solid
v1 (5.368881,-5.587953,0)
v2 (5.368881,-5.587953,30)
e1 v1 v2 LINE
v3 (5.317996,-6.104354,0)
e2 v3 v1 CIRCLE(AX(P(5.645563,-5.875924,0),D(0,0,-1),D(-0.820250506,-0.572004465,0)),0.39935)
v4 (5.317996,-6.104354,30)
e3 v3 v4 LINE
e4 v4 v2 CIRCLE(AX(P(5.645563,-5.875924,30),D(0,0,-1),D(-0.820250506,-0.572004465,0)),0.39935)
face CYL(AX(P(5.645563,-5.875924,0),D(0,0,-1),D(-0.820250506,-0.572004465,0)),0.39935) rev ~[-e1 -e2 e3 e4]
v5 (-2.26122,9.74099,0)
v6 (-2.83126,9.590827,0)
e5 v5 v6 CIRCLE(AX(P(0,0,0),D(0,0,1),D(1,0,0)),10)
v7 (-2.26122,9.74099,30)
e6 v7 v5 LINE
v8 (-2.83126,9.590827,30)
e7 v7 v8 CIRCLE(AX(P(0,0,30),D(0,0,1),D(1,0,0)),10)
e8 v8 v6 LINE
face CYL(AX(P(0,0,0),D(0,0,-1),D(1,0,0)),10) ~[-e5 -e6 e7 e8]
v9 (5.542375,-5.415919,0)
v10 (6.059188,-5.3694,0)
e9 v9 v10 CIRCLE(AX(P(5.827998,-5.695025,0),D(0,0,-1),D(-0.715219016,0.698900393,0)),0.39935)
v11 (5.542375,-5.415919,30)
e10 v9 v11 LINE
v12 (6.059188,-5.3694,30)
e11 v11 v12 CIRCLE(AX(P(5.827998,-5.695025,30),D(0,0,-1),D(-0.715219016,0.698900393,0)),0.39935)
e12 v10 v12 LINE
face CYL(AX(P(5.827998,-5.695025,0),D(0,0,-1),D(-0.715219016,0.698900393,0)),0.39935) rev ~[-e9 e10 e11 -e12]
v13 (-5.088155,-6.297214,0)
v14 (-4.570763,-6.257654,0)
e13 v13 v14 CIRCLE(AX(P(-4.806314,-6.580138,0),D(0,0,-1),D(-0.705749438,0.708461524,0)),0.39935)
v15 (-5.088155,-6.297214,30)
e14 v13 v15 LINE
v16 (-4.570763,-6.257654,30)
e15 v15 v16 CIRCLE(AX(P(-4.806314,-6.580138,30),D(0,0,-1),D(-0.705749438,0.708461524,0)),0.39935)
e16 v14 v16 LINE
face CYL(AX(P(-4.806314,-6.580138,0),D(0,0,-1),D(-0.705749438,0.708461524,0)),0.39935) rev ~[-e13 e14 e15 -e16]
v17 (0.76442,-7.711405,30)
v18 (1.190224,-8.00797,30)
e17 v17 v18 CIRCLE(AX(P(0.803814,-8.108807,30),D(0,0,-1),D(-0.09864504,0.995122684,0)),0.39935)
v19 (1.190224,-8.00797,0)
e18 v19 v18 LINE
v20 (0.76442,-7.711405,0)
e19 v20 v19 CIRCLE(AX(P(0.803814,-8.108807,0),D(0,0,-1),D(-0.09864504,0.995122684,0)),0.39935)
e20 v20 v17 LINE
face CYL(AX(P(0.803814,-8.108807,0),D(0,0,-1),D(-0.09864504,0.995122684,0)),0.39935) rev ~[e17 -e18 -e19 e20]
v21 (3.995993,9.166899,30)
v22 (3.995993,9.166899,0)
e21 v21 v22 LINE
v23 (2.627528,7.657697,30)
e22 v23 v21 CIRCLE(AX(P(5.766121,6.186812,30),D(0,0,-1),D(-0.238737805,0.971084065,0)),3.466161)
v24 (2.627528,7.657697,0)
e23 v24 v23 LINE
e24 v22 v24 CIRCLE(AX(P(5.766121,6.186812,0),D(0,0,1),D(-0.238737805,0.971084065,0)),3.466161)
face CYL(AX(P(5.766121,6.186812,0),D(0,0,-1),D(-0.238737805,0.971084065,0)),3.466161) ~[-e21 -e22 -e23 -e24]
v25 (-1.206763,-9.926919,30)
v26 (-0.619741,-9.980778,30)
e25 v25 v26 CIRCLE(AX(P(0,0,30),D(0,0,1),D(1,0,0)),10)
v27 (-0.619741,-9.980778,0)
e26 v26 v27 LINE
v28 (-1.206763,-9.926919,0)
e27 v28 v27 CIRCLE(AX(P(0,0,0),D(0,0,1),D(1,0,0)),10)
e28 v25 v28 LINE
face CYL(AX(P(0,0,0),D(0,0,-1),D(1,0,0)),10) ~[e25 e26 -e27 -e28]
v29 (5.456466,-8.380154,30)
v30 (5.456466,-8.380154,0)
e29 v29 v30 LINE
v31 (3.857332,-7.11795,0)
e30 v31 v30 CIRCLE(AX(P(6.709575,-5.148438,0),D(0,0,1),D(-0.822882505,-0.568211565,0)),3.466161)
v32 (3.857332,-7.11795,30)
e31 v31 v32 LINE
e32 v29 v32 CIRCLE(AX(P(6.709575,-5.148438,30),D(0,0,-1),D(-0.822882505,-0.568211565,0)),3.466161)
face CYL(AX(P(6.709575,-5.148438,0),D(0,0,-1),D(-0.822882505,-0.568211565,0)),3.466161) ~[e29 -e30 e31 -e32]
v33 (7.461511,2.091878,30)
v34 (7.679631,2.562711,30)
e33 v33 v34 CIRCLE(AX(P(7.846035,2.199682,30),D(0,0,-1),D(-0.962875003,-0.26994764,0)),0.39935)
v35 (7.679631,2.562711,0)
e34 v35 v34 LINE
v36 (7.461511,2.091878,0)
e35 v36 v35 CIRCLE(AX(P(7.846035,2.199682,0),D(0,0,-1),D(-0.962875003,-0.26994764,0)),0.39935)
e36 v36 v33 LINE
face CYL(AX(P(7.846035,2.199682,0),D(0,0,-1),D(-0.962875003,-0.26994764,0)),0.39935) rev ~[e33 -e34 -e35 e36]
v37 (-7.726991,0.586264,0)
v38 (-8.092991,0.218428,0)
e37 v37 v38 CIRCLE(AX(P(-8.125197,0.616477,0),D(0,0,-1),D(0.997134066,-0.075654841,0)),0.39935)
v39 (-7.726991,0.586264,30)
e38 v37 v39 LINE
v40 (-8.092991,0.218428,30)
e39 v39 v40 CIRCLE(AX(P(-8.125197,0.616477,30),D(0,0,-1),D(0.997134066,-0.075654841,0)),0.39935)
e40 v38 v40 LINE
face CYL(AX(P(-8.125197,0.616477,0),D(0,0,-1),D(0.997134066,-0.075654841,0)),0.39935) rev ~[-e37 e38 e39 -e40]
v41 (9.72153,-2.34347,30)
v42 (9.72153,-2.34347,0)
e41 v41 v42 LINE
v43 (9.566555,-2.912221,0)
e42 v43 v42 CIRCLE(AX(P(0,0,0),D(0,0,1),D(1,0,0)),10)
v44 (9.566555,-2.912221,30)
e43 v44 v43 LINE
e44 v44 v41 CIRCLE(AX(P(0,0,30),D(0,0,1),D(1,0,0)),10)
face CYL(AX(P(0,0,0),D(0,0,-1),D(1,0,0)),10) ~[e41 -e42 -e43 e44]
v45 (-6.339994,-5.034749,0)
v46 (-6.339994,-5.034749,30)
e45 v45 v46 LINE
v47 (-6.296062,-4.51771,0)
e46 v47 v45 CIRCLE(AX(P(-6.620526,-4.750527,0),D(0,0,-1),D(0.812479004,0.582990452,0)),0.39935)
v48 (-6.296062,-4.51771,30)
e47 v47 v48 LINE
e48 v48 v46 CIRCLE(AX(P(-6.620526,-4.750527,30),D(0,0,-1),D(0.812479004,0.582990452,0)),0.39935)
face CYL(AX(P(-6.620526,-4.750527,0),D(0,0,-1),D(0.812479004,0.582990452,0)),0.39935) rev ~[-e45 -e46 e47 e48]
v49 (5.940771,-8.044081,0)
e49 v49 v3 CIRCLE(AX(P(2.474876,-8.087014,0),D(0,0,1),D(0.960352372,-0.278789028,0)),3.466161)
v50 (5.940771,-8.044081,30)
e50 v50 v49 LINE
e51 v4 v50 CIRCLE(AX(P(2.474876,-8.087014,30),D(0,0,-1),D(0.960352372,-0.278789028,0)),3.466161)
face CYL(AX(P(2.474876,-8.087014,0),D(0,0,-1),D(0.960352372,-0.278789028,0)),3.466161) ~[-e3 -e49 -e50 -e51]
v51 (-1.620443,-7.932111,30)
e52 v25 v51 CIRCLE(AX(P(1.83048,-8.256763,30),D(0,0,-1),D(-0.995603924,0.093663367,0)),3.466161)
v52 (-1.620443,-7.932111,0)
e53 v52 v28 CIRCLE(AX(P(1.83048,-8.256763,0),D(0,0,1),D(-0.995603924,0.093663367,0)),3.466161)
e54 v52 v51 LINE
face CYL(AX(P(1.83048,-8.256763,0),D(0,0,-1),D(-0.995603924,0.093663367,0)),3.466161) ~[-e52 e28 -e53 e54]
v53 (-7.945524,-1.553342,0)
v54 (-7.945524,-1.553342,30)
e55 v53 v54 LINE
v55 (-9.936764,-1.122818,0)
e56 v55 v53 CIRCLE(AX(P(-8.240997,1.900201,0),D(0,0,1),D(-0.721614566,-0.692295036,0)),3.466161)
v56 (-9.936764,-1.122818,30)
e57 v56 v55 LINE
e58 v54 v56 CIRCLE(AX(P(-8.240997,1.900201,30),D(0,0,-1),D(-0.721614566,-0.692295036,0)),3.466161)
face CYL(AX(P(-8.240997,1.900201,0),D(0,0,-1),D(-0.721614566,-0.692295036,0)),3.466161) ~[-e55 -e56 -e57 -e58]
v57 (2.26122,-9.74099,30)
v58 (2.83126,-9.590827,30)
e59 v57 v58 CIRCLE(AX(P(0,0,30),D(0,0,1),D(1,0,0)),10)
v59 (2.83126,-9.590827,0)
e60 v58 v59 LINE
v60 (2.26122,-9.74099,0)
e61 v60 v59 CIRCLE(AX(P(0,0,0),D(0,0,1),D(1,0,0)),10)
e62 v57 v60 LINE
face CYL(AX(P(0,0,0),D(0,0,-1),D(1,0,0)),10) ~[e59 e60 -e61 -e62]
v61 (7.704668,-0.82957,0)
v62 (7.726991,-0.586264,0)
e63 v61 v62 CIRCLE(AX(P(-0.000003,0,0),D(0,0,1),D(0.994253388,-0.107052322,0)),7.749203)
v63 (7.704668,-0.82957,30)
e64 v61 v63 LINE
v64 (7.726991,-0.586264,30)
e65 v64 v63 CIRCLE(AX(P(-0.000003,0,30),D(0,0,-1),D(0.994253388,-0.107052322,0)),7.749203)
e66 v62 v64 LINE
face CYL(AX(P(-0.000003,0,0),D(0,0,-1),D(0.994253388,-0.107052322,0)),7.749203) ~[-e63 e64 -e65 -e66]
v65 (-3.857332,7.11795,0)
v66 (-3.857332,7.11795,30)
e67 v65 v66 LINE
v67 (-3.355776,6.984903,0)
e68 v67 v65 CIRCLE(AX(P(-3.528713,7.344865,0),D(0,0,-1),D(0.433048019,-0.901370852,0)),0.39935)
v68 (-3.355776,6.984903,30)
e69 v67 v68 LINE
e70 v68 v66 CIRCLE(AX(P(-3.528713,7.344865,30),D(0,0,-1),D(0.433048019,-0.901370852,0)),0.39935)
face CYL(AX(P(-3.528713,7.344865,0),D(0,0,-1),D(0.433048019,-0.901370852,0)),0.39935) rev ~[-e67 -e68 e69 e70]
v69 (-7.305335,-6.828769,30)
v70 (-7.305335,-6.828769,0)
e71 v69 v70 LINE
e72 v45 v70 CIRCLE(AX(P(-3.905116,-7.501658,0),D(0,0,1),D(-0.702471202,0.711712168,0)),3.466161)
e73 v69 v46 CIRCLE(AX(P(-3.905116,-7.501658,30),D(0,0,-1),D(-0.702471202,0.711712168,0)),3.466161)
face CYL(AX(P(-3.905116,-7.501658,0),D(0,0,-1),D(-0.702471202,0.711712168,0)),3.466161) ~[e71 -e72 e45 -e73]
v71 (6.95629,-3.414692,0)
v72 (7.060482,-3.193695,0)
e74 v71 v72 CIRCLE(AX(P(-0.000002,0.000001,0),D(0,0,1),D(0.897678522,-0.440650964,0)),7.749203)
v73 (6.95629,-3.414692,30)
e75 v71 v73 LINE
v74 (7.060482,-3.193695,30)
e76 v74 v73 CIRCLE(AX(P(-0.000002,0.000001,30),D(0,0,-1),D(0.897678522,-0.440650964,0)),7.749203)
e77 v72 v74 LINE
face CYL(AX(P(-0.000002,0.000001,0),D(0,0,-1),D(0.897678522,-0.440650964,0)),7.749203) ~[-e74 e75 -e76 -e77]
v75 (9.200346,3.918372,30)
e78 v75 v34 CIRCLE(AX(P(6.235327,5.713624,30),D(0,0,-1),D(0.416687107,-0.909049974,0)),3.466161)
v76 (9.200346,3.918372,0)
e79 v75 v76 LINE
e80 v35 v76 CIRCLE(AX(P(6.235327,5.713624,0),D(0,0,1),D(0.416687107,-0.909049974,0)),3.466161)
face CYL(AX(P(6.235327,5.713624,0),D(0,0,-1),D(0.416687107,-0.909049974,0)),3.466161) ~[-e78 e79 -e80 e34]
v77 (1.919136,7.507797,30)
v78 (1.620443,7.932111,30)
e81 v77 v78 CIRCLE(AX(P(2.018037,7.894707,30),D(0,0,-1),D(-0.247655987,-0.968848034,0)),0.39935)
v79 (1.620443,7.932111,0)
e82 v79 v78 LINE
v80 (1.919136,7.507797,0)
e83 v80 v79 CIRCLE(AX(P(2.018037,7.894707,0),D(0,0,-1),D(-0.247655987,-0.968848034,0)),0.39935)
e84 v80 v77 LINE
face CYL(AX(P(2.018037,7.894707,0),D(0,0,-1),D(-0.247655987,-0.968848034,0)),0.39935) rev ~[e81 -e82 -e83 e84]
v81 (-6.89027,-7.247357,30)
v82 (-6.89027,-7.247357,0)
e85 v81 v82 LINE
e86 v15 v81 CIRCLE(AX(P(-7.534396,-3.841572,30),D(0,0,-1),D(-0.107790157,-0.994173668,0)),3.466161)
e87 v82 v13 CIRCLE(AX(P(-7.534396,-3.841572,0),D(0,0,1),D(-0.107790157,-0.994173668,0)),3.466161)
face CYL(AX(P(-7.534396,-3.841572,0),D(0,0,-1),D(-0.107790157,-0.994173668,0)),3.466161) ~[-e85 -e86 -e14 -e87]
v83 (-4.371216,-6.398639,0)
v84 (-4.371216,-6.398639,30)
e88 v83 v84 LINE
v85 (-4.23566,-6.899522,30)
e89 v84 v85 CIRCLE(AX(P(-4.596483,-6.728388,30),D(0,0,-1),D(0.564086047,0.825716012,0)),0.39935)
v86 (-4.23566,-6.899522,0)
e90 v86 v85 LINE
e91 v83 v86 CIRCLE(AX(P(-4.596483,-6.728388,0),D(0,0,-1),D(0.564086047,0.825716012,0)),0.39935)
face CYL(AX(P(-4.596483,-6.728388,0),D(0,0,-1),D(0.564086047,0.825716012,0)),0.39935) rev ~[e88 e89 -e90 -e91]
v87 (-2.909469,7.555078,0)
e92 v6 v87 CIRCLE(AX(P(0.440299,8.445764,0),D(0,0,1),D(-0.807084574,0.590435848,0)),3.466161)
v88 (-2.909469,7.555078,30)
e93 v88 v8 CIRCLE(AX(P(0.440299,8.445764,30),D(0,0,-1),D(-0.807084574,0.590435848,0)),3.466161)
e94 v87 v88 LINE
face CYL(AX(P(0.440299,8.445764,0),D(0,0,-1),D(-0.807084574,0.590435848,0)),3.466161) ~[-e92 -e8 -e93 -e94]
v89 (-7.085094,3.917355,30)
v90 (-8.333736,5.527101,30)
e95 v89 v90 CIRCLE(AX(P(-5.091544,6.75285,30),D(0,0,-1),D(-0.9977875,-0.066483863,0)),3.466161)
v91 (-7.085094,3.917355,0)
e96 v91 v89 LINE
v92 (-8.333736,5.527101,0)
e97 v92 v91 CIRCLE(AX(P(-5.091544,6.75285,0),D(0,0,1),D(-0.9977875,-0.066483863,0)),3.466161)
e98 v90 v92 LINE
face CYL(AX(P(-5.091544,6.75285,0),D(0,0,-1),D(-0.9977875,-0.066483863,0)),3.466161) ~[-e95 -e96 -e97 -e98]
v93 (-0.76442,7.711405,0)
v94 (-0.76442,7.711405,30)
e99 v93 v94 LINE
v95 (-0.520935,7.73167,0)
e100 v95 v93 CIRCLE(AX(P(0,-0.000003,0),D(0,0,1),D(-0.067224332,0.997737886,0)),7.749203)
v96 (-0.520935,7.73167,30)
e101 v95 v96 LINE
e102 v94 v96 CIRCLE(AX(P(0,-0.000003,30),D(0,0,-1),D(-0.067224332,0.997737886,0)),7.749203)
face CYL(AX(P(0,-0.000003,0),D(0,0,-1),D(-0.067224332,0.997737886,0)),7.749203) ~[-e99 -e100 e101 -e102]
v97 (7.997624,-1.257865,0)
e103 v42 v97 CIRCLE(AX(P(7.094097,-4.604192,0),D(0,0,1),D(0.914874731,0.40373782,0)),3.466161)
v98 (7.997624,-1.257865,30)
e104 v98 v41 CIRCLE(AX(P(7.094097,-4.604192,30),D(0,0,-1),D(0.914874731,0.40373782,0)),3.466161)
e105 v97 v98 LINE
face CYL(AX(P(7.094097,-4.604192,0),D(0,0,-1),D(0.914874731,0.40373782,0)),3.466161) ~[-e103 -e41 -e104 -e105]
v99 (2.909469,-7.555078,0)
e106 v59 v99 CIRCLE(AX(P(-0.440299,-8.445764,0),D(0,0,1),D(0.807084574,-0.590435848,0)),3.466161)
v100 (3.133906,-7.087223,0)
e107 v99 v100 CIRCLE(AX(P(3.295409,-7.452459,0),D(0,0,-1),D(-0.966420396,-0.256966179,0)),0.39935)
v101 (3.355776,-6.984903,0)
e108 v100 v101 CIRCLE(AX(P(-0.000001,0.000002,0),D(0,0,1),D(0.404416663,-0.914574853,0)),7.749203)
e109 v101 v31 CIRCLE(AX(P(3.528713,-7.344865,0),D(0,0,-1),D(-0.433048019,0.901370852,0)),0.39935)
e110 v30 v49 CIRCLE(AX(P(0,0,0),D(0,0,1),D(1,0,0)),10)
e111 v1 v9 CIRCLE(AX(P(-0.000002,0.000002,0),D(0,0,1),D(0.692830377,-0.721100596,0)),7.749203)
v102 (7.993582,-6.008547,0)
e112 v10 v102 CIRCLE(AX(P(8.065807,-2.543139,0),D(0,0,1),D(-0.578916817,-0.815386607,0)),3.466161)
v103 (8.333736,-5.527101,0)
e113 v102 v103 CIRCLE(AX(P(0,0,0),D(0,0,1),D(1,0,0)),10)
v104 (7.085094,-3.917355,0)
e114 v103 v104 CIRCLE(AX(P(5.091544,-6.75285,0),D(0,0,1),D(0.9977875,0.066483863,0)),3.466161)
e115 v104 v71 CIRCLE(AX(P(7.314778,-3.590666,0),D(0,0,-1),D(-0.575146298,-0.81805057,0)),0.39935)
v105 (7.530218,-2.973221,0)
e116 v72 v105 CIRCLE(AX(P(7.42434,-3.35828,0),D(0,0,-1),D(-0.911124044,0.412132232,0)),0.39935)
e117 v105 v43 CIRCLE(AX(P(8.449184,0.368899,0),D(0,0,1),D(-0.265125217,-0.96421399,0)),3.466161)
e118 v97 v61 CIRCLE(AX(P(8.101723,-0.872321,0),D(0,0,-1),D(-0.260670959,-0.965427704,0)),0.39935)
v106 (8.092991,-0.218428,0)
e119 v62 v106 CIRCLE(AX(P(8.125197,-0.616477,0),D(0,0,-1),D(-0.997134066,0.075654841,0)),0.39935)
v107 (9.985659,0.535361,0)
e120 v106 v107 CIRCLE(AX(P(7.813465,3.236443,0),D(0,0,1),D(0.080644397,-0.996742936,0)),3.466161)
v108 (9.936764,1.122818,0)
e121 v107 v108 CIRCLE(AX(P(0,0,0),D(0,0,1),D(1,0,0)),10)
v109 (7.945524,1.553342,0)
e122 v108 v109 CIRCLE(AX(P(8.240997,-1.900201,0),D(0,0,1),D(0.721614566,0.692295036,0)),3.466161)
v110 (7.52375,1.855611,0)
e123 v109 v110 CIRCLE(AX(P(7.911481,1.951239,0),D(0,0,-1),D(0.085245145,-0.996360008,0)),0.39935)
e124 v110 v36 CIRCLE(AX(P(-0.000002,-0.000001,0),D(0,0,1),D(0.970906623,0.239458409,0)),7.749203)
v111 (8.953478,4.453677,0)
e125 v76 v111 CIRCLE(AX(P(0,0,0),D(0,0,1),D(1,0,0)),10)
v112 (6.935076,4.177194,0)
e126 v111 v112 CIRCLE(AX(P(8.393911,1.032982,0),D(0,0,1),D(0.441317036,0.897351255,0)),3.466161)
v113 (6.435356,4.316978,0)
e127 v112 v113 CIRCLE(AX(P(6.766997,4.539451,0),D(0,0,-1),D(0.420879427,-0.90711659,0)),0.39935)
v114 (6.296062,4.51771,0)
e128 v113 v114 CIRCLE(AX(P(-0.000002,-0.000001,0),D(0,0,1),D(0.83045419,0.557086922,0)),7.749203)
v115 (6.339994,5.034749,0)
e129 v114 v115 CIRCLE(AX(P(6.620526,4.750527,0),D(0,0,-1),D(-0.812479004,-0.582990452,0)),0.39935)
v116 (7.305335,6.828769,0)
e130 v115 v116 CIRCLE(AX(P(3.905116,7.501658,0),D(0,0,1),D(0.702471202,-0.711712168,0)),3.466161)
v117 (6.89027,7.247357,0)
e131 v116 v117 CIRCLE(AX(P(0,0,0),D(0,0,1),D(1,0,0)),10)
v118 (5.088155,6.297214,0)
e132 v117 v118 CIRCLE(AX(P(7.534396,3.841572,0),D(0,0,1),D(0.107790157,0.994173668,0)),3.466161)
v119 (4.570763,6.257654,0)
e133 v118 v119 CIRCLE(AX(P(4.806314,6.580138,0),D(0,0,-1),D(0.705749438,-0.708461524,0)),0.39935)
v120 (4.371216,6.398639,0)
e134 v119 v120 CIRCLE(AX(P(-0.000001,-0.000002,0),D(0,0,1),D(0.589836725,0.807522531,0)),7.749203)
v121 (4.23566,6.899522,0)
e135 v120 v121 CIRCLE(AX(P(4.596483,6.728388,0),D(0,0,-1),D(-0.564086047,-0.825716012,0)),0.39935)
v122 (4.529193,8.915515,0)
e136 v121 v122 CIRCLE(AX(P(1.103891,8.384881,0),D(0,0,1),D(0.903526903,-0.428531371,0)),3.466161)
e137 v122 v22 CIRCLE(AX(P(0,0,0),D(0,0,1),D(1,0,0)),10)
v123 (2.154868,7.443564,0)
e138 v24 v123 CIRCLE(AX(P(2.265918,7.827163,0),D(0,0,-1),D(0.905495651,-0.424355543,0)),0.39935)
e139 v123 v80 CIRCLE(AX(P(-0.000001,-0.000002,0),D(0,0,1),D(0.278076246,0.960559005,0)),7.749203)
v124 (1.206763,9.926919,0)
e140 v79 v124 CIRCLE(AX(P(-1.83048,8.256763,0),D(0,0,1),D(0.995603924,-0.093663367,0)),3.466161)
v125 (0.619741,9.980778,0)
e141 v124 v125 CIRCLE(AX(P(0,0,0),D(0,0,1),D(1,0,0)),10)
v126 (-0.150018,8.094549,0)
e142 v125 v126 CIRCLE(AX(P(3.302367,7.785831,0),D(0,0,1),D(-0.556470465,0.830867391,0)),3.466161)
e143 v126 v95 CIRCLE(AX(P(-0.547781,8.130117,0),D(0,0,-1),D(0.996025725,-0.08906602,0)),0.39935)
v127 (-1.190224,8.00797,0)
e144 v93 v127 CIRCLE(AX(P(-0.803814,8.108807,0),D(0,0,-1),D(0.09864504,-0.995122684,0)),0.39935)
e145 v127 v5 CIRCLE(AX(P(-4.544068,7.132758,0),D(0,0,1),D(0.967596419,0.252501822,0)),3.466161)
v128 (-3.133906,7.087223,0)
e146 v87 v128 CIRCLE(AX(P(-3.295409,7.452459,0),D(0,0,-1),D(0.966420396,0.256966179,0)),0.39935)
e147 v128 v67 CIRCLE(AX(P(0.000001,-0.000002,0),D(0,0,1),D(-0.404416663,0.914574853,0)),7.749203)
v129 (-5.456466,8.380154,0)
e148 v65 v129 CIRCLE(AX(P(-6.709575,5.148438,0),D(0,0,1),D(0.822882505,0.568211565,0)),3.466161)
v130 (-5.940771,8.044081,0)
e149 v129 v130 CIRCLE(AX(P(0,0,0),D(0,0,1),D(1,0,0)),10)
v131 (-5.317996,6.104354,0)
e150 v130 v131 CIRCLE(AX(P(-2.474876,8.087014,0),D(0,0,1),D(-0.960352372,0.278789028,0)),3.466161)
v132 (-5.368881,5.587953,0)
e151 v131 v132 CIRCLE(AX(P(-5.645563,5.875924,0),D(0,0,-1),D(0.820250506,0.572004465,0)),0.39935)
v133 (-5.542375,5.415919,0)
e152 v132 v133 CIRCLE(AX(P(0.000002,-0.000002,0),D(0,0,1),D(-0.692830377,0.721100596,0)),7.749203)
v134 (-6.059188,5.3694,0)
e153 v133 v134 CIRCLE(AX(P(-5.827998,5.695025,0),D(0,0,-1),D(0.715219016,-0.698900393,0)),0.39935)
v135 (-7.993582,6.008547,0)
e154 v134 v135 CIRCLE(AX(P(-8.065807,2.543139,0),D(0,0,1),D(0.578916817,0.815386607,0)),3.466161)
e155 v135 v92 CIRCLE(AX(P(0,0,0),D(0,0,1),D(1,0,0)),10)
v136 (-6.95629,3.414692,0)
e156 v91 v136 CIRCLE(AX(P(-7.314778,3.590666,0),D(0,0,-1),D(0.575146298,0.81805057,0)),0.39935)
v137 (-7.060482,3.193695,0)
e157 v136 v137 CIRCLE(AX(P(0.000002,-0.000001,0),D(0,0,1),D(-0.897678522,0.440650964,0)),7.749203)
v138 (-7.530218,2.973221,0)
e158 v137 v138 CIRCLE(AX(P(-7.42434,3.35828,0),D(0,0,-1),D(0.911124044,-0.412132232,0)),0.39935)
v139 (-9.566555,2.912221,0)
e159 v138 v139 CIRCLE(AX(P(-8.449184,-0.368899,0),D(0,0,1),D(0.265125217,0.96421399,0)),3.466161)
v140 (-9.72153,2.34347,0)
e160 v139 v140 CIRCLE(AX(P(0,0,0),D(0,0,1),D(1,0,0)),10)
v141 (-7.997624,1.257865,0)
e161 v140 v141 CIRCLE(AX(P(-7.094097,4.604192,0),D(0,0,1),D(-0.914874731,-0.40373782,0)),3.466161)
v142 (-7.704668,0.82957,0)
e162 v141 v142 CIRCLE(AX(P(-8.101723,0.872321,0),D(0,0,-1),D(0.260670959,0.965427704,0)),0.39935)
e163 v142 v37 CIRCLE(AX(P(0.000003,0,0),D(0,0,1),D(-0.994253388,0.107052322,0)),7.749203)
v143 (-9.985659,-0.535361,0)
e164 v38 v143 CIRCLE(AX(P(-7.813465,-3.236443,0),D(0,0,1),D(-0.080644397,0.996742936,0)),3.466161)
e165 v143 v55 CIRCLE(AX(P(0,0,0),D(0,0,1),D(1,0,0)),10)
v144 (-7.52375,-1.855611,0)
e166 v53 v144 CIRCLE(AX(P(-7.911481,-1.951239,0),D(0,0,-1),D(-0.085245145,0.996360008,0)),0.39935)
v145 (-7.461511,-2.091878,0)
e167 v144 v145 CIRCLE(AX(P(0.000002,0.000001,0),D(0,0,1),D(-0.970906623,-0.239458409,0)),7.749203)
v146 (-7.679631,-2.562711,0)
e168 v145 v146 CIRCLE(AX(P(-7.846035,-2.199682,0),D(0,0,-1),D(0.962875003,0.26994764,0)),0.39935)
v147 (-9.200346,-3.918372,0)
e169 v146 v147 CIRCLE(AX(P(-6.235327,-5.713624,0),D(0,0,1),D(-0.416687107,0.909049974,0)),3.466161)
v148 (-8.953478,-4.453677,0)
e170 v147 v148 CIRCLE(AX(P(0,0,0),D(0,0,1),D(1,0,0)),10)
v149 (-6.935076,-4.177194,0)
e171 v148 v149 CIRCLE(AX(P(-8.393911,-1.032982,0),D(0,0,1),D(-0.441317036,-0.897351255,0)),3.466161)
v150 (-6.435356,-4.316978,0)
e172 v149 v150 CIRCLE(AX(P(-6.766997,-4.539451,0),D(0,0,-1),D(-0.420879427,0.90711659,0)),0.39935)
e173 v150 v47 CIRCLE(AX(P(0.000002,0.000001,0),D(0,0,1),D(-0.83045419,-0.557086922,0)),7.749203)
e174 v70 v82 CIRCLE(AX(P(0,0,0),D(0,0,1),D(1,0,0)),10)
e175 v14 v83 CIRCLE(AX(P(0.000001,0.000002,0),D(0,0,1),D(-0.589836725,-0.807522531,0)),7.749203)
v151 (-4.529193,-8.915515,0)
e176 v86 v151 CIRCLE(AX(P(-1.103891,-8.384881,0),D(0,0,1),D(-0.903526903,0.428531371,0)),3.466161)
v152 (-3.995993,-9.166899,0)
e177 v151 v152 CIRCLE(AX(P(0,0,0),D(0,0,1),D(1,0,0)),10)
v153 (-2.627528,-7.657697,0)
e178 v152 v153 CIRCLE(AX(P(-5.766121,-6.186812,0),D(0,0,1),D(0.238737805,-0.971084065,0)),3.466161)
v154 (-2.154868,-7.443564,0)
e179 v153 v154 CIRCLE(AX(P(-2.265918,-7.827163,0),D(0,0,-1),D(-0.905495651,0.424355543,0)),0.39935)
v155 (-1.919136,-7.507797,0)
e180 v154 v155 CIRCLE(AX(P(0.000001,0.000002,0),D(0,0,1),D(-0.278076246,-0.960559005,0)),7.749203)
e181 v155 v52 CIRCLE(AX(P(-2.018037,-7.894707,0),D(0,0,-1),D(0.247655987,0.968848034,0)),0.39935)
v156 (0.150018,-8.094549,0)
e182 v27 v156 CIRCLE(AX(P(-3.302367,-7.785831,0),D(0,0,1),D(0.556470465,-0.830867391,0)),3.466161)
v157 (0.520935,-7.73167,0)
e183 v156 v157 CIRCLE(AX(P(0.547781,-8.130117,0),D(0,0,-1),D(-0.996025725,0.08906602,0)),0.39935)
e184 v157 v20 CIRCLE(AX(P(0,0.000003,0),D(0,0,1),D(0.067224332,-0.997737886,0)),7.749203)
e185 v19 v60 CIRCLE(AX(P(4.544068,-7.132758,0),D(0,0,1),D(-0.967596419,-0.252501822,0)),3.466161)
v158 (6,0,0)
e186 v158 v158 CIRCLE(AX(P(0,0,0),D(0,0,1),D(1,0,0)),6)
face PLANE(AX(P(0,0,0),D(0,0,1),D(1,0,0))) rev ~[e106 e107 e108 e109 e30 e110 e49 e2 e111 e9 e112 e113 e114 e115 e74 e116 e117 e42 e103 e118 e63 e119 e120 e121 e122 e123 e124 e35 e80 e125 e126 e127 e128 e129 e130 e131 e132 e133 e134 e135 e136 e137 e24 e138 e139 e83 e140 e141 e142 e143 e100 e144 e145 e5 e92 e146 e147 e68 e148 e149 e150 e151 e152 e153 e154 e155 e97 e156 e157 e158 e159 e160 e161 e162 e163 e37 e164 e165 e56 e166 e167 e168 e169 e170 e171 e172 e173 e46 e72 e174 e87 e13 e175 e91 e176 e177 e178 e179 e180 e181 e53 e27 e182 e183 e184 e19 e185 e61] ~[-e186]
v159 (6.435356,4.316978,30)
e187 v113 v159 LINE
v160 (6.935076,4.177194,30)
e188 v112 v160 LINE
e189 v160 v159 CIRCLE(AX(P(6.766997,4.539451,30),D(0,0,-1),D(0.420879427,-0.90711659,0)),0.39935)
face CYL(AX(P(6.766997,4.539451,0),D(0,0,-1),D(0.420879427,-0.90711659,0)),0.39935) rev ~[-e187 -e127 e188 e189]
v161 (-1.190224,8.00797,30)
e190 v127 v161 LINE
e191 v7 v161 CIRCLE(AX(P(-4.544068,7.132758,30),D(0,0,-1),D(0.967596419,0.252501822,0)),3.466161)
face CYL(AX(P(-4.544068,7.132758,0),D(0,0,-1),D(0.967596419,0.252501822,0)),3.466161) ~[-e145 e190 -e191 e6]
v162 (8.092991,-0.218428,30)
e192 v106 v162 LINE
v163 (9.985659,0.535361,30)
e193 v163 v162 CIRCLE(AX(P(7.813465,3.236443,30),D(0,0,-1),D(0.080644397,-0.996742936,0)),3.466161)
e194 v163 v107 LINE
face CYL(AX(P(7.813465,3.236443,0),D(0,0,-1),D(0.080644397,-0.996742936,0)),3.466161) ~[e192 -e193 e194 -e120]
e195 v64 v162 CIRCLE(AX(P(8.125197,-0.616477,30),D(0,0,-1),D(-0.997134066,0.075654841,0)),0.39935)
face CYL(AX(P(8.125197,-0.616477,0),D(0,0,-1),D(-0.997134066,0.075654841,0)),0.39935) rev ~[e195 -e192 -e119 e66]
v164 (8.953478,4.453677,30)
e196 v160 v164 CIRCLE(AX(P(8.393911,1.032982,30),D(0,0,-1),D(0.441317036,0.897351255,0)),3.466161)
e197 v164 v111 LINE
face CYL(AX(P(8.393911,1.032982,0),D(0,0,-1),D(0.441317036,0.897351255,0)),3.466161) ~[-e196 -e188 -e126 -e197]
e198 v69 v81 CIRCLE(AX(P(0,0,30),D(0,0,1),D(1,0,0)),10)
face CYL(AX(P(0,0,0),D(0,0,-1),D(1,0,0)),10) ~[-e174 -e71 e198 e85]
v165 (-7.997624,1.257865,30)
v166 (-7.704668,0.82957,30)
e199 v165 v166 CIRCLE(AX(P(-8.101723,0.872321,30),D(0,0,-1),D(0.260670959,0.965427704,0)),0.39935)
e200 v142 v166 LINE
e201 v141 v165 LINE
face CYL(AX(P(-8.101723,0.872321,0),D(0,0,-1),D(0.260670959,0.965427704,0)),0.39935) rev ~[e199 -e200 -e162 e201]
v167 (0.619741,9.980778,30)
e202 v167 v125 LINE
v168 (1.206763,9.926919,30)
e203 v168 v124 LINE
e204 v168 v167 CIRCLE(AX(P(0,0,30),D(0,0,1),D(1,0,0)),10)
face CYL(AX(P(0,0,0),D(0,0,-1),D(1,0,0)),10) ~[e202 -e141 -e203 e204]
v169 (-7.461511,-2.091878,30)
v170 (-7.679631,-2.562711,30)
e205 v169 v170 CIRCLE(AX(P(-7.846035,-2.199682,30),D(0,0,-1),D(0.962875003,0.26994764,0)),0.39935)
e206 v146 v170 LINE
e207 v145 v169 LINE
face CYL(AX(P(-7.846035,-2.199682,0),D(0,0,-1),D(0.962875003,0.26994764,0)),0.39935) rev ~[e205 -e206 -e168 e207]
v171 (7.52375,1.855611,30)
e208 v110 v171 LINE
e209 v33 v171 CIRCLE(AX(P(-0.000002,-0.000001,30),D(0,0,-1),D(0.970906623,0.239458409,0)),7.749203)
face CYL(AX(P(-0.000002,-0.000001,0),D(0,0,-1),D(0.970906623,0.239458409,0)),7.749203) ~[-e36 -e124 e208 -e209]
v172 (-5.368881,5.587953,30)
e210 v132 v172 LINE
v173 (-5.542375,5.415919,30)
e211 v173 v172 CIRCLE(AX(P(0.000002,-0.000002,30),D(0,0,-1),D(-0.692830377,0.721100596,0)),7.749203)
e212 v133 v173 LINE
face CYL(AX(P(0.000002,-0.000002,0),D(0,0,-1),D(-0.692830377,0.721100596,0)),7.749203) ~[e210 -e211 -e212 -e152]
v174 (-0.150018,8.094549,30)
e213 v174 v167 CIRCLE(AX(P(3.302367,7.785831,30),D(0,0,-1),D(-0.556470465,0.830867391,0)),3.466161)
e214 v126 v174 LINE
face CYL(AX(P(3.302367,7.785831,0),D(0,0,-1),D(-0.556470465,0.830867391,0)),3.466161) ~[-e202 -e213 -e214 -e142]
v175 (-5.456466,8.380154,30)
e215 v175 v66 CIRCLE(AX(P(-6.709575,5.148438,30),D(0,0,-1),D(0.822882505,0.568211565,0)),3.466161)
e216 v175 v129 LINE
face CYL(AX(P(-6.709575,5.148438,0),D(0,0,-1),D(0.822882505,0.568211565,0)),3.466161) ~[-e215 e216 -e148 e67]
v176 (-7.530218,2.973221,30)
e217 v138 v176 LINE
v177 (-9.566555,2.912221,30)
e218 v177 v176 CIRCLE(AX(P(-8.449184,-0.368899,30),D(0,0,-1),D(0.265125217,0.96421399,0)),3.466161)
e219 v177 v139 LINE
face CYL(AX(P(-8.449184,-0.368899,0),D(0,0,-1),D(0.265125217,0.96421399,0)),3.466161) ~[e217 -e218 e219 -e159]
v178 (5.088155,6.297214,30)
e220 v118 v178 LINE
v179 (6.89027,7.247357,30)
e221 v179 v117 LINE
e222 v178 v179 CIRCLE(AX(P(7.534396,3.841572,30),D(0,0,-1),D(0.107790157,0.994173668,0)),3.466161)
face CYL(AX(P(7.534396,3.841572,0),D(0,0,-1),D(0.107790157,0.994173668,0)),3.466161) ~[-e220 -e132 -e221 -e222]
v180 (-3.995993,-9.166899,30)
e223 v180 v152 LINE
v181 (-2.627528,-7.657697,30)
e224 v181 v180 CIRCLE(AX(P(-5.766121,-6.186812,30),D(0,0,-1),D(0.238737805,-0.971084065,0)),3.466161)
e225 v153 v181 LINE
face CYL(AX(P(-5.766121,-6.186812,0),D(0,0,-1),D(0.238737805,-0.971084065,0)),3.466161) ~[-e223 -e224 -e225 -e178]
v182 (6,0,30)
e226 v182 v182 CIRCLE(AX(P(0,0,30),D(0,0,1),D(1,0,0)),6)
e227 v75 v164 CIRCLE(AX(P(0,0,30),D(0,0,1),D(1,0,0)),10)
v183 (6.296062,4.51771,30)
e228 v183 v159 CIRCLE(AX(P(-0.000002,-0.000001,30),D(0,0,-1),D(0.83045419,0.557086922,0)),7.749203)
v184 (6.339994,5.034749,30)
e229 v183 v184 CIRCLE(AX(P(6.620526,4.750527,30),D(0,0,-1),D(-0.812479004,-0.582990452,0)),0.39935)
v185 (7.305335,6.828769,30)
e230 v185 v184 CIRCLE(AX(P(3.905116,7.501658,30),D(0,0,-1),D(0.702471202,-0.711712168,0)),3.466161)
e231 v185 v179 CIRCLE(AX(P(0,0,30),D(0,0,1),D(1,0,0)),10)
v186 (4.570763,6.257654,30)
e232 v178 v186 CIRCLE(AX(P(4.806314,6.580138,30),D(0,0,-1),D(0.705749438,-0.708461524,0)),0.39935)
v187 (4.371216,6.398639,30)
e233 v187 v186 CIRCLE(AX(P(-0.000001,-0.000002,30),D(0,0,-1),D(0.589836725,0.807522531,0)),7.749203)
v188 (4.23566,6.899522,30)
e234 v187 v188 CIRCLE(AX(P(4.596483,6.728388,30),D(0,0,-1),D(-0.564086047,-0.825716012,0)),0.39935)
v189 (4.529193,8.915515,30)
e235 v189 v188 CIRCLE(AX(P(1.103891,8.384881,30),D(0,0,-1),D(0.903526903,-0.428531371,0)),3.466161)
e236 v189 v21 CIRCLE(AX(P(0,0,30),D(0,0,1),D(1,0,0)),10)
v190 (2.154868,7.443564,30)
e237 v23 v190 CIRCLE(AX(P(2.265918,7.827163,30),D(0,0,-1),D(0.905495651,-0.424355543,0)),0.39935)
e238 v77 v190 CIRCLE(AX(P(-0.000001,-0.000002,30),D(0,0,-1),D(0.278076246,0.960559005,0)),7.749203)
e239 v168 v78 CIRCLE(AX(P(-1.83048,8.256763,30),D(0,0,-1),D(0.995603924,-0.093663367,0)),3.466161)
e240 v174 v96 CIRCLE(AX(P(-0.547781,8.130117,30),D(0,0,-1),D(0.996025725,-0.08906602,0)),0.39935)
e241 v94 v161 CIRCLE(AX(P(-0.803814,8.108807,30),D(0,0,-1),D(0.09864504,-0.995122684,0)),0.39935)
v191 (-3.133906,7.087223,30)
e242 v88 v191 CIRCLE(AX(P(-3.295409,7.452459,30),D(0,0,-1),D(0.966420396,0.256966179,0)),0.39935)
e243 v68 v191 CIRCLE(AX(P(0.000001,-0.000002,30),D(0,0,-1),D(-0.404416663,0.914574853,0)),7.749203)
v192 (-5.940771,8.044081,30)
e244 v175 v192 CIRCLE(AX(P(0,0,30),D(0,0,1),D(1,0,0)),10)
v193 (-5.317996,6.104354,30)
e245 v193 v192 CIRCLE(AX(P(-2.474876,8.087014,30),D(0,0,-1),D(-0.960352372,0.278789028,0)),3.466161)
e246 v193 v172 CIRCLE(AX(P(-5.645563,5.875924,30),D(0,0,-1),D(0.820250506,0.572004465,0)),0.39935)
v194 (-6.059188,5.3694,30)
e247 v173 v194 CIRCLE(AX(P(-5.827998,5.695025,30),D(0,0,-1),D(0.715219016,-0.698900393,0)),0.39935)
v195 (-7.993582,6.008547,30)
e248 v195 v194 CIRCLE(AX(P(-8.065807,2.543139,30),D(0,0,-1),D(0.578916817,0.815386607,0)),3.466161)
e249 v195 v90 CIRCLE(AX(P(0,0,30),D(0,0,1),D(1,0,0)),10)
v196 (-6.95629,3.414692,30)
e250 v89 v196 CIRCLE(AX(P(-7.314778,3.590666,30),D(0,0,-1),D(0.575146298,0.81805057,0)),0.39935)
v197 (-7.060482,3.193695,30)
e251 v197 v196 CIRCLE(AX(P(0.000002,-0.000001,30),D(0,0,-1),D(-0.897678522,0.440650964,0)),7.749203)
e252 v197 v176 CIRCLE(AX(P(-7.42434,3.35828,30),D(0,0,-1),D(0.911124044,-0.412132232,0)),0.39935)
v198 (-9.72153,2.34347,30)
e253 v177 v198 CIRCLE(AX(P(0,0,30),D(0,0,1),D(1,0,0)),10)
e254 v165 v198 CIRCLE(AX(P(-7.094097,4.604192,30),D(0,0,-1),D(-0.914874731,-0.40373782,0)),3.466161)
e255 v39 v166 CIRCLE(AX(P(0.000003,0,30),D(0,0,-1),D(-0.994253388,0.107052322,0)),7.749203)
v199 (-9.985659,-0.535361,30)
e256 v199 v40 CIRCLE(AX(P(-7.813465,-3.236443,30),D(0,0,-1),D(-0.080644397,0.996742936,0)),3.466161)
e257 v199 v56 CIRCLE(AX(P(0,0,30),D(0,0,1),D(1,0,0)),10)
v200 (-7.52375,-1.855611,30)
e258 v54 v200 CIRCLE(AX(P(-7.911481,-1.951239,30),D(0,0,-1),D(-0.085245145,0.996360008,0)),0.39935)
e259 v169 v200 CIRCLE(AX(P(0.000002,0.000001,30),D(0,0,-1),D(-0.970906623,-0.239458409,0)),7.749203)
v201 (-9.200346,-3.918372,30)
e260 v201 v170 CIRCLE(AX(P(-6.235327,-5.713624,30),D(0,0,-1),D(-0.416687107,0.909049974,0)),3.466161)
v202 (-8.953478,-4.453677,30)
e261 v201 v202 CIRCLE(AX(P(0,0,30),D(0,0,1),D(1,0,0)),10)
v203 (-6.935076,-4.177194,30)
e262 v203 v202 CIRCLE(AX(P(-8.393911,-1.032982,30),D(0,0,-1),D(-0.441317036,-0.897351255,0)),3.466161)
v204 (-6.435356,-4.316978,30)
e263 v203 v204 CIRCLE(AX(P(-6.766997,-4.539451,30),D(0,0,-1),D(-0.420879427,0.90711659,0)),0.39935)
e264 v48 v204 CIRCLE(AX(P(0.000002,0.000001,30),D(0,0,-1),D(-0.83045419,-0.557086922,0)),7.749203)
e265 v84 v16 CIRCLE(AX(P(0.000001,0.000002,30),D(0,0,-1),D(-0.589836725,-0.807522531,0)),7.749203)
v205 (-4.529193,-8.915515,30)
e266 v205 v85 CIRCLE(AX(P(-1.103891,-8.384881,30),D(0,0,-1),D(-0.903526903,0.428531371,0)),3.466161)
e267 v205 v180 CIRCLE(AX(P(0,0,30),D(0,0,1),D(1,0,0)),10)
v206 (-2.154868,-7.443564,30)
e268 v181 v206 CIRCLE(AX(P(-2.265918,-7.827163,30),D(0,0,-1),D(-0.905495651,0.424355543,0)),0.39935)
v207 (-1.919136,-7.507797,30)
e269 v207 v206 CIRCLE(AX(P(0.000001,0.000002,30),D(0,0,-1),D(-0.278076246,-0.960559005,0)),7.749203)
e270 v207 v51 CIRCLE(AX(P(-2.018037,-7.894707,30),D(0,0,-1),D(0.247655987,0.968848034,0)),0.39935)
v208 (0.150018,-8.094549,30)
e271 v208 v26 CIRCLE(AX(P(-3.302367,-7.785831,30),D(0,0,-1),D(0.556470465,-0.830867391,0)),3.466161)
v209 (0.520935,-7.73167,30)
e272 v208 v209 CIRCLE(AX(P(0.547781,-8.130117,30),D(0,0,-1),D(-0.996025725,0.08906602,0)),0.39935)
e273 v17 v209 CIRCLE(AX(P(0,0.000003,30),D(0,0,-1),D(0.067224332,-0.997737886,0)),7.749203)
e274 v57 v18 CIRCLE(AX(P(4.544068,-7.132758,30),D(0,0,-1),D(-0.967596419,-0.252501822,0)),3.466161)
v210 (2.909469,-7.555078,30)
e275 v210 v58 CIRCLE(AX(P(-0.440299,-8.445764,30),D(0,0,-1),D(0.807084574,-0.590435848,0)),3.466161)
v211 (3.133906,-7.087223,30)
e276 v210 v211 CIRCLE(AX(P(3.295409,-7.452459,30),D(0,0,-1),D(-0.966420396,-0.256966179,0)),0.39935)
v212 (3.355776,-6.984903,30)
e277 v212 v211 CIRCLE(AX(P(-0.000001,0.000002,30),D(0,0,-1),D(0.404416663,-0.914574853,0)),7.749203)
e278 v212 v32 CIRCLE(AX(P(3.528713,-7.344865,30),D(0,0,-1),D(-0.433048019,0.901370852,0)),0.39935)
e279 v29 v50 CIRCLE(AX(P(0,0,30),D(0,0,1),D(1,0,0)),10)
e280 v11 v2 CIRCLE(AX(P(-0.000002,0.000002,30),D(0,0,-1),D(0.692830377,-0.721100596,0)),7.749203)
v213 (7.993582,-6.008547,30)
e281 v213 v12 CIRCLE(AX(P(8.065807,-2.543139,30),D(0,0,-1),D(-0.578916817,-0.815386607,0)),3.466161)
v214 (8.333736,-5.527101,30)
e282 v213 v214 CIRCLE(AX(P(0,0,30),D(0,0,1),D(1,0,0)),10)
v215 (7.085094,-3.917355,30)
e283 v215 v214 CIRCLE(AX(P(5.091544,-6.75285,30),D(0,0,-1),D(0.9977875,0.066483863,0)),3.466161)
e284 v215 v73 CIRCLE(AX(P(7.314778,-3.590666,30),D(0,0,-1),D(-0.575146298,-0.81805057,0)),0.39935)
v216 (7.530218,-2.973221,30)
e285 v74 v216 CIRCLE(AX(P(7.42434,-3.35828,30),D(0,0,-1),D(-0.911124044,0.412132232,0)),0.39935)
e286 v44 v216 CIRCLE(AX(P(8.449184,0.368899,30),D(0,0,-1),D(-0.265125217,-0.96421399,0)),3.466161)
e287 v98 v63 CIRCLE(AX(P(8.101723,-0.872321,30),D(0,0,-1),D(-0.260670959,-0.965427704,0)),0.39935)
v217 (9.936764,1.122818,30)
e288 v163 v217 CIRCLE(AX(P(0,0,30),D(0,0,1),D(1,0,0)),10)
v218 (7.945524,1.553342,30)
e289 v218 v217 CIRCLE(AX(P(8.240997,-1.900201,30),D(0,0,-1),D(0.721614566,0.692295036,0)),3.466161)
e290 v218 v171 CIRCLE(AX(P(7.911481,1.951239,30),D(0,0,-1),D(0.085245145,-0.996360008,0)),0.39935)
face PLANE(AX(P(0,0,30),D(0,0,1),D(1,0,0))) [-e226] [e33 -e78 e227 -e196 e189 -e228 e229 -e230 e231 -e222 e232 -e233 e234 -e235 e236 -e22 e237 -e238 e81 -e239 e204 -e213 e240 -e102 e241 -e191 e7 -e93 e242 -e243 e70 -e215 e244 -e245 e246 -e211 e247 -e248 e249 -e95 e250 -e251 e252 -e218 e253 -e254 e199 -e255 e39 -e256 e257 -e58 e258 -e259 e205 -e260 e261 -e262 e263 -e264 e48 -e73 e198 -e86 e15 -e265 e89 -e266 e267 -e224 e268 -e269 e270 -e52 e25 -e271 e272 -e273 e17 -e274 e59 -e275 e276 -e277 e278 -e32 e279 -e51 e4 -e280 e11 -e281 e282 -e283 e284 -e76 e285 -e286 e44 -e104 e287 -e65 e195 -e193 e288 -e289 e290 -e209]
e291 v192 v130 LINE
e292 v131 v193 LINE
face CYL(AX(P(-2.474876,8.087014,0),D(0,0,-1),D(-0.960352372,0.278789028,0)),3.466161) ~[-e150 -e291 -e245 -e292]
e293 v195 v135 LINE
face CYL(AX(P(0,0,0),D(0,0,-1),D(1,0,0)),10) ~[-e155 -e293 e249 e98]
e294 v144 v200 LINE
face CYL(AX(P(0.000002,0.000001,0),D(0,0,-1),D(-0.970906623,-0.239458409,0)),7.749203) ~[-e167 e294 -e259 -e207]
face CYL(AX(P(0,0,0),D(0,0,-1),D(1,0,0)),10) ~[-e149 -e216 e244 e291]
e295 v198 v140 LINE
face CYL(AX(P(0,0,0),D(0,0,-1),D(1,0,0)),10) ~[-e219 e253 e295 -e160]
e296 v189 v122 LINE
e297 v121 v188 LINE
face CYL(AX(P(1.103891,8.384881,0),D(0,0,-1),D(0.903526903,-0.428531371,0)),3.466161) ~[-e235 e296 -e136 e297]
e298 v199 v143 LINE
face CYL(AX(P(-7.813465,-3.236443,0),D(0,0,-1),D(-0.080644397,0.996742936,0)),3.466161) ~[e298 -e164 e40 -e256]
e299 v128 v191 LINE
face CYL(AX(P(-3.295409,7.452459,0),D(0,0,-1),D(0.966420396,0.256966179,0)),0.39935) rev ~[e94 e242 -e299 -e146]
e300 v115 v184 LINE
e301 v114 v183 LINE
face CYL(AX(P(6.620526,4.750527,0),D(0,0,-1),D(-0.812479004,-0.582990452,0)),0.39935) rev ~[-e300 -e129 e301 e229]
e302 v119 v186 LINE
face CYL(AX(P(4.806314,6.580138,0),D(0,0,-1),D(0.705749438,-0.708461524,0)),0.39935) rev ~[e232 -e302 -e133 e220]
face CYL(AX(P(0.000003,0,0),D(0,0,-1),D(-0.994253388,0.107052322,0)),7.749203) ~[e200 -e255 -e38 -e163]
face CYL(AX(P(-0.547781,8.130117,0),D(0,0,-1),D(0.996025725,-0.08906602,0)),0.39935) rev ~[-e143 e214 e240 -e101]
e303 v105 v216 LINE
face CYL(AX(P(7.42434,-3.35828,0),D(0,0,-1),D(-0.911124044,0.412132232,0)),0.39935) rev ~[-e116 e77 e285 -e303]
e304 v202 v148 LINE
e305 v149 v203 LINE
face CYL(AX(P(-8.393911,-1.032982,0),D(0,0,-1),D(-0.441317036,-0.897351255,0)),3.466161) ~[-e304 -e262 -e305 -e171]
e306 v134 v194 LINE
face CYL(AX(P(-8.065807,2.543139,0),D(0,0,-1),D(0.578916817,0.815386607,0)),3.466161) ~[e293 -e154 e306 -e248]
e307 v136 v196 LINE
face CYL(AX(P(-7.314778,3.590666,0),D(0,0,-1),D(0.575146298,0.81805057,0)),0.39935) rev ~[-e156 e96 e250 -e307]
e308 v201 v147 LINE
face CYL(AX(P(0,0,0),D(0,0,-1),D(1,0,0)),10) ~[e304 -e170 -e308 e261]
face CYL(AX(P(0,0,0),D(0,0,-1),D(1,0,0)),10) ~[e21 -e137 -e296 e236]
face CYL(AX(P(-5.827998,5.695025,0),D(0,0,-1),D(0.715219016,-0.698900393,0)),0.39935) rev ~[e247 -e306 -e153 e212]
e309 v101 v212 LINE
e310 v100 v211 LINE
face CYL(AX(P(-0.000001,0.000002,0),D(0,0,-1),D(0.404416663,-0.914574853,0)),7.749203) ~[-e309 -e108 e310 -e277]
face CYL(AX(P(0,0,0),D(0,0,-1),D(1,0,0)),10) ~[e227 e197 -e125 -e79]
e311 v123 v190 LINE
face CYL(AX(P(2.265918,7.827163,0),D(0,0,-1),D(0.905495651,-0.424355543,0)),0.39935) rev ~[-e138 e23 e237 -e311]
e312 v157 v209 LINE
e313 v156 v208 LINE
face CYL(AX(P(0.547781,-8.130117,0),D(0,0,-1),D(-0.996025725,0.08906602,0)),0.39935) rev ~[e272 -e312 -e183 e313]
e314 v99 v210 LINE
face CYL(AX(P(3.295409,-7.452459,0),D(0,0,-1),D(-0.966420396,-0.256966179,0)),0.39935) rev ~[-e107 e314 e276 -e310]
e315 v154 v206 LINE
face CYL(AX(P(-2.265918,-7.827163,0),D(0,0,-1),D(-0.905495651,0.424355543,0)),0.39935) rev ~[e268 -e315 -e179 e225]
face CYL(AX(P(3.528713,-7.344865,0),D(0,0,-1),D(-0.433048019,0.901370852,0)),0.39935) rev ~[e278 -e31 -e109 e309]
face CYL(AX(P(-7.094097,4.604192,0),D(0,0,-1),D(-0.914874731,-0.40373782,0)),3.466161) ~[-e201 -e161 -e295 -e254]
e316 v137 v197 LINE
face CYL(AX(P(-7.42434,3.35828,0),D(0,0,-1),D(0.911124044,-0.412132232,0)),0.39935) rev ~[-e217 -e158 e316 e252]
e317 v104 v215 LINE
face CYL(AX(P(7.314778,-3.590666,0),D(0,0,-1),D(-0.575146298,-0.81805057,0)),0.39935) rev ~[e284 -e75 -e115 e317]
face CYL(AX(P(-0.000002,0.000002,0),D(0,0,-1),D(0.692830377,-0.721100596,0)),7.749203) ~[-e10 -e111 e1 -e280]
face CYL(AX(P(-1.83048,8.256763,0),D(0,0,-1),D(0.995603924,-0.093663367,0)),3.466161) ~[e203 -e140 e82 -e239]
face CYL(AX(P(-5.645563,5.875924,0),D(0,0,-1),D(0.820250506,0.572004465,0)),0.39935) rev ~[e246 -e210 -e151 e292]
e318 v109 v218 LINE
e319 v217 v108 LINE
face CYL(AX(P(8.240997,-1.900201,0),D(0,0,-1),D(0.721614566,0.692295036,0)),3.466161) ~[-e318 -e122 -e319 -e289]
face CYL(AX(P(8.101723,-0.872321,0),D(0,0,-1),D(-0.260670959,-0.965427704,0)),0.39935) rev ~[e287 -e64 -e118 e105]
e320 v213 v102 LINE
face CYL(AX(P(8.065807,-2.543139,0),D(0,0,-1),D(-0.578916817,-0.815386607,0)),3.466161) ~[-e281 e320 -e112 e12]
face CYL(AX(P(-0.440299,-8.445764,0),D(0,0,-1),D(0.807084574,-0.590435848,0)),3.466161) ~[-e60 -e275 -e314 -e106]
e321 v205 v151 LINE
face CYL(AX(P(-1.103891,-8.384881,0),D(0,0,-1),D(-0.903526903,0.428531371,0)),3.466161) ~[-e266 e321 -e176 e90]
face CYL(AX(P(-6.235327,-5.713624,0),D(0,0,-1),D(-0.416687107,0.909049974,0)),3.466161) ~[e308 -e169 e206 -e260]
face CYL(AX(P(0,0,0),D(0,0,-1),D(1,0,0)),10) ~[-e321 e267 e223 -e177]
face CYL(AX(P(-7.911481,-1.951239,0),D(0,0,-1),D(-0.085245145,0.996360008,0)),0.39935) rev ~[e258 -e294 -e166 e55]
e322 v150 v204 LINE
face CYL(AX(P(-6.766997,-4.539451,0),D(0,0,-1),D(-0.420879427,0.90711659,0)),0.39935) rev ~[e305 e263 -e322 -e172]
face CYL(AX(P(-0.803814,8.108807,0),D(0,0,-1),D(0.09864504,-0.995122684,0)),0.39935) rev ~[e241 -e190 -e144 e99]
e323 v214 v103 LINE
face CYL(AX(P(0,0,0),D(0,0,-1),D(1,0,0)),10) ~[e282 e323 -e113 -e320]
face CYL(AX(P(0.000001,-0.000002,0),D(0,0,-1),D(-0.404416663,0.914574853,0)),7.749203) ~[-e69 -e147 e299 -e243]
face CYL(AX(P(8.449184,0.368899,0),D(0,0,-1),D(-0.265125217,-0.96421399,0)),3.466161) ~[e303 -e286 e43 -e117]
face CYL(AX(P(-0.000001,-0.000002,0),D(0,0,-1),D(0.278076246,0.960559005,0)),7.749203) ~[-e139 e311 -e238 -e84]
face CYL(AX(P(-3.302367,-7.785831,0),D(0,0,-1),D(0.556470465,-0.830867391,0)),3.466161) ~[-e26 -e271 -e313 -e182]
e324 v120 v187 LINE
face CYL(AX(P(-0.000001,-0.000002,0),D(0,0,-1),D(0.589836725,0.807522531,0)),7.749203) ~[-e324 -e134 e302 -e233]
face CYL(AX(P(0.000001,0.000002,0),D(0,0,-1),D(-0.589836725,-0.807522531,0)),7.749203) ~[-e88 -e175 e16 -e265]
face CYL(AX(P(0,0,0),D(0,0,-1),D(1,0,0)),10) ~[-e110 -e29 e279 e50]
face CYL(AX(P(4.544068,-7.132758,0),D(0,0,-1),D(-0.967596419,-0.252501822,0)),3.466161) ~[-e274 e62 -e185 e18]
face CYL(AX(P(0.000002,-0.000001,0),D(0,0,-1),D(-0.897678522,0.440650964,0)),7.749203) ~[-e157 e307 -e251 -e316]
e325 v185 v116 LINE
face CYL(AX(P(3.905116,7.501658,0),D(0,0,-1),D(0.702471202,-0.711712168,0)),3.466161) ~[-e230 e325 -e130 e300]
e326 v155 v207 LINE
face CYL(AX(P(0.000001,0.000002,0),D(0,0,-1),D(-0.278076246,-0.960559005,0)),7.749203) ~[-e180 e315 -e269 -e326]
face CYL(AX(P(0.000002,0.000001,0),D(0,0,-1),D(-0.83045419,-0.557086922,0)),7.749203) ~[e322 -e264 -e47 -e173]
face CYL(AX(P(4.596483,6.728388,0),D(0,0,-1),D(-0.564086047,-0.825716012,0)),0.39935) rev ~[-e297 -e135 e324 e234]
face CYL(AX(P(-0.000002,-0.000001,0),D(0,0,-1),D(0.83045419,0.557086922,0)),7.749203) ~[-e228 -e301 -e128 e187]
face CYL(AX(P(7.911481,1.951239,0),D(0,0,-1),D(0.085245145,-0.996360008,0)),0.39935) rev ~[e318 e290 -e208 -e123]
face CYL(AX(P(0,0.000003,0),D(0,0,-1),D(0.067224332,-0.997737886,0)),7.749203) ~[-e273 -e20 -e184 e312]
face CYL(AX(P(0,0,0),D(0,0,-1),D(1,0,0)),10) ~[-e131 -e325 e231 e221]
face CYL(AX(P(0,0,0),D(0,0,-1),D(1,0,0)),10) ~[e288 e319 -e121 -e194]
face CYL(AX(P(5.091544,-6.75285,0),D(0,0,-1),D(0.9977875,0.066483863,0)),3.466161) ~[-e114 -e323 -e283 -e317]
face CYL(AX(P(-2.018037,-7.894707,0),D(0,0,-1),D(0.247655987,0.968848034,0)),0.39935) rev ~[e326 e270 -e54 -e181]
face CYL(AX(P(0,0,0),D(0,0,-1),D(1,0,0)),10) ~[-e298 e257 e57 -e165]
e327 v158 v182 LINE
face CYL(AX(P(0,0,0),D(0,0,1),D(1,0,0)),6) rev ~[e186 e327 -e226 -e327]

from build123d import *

# Parameters (mm, degrees)
SKETCH3_R         = 10
GEARBODY_DEPTH    = 30
TOOTHCUT_DEPTH    = 34.166247904
CIRPATTERN1_COUNT = 18
BOREDIA_R         = 6
BORE_DEPTH        = 12700


with BuildPart() as part:
    # Sketch3 → gearBody (new body)
    with BuildSketch(Plane.XY):
        Circle(SKETCH3_R)
    extrude(amount=GEARBODY_DEPTH)

    # Sketch2 → toothCut (cut, through all)
    with BuildSketch(Plane.XY):
        with BuildLine():
            ThreePointArc((7.704668355, -0.829569873), (7.716788796, -0.708005165), (7.726991303, -0.586264488))
            ThreePointArc((7.726991303, -0.586264488), (7.842107939, -0.334801684), (8.092991452, -0.218427957))
            ThreePointArc((8.092991452, -0.218427957), (9.555163779, 0.239652395), (10.676979571, 1.283354868))
            ThreePointArc((10.676979571, 1.283354868), (10.708853382, -0.982523133), (10.265199855, -3.204772129))
            ThreePointArc((10.265199855, -3.204772129), (9.352030842, -1.974362491), (7.997624499, -1.257864773))
            ThreePointArc((7.997624499, -1.257864773), (7.772105527, -1.097781748), (7.704668355, -0.829569873))
        make_face()
    toothcut = extrude(amount=TOOTHCUT_DEPTH, mode=Mode.SUBTRACT)

    # CirPattern1: toothCut ×18 about axis
    cirpattern1_axis = Axis((0, 0, 30), (0, 0, -1))
    for i in range(1, CIRPATTERN1_COUNT):
        add(toothcut.rotate(cirpattern1_axis, i * 360 / CIRPATTERN1_COUNT), mode=Mode.SUBTRACT)

    # boreDia → bore (cut, symmetric)
    with BuildSketch(Plane.XY):
        Circle(BOREDIA_R)
    extrude(amount=BORE_DEPTH, both=True, mode=Mode.SUBTRACT)


solid = part.part
